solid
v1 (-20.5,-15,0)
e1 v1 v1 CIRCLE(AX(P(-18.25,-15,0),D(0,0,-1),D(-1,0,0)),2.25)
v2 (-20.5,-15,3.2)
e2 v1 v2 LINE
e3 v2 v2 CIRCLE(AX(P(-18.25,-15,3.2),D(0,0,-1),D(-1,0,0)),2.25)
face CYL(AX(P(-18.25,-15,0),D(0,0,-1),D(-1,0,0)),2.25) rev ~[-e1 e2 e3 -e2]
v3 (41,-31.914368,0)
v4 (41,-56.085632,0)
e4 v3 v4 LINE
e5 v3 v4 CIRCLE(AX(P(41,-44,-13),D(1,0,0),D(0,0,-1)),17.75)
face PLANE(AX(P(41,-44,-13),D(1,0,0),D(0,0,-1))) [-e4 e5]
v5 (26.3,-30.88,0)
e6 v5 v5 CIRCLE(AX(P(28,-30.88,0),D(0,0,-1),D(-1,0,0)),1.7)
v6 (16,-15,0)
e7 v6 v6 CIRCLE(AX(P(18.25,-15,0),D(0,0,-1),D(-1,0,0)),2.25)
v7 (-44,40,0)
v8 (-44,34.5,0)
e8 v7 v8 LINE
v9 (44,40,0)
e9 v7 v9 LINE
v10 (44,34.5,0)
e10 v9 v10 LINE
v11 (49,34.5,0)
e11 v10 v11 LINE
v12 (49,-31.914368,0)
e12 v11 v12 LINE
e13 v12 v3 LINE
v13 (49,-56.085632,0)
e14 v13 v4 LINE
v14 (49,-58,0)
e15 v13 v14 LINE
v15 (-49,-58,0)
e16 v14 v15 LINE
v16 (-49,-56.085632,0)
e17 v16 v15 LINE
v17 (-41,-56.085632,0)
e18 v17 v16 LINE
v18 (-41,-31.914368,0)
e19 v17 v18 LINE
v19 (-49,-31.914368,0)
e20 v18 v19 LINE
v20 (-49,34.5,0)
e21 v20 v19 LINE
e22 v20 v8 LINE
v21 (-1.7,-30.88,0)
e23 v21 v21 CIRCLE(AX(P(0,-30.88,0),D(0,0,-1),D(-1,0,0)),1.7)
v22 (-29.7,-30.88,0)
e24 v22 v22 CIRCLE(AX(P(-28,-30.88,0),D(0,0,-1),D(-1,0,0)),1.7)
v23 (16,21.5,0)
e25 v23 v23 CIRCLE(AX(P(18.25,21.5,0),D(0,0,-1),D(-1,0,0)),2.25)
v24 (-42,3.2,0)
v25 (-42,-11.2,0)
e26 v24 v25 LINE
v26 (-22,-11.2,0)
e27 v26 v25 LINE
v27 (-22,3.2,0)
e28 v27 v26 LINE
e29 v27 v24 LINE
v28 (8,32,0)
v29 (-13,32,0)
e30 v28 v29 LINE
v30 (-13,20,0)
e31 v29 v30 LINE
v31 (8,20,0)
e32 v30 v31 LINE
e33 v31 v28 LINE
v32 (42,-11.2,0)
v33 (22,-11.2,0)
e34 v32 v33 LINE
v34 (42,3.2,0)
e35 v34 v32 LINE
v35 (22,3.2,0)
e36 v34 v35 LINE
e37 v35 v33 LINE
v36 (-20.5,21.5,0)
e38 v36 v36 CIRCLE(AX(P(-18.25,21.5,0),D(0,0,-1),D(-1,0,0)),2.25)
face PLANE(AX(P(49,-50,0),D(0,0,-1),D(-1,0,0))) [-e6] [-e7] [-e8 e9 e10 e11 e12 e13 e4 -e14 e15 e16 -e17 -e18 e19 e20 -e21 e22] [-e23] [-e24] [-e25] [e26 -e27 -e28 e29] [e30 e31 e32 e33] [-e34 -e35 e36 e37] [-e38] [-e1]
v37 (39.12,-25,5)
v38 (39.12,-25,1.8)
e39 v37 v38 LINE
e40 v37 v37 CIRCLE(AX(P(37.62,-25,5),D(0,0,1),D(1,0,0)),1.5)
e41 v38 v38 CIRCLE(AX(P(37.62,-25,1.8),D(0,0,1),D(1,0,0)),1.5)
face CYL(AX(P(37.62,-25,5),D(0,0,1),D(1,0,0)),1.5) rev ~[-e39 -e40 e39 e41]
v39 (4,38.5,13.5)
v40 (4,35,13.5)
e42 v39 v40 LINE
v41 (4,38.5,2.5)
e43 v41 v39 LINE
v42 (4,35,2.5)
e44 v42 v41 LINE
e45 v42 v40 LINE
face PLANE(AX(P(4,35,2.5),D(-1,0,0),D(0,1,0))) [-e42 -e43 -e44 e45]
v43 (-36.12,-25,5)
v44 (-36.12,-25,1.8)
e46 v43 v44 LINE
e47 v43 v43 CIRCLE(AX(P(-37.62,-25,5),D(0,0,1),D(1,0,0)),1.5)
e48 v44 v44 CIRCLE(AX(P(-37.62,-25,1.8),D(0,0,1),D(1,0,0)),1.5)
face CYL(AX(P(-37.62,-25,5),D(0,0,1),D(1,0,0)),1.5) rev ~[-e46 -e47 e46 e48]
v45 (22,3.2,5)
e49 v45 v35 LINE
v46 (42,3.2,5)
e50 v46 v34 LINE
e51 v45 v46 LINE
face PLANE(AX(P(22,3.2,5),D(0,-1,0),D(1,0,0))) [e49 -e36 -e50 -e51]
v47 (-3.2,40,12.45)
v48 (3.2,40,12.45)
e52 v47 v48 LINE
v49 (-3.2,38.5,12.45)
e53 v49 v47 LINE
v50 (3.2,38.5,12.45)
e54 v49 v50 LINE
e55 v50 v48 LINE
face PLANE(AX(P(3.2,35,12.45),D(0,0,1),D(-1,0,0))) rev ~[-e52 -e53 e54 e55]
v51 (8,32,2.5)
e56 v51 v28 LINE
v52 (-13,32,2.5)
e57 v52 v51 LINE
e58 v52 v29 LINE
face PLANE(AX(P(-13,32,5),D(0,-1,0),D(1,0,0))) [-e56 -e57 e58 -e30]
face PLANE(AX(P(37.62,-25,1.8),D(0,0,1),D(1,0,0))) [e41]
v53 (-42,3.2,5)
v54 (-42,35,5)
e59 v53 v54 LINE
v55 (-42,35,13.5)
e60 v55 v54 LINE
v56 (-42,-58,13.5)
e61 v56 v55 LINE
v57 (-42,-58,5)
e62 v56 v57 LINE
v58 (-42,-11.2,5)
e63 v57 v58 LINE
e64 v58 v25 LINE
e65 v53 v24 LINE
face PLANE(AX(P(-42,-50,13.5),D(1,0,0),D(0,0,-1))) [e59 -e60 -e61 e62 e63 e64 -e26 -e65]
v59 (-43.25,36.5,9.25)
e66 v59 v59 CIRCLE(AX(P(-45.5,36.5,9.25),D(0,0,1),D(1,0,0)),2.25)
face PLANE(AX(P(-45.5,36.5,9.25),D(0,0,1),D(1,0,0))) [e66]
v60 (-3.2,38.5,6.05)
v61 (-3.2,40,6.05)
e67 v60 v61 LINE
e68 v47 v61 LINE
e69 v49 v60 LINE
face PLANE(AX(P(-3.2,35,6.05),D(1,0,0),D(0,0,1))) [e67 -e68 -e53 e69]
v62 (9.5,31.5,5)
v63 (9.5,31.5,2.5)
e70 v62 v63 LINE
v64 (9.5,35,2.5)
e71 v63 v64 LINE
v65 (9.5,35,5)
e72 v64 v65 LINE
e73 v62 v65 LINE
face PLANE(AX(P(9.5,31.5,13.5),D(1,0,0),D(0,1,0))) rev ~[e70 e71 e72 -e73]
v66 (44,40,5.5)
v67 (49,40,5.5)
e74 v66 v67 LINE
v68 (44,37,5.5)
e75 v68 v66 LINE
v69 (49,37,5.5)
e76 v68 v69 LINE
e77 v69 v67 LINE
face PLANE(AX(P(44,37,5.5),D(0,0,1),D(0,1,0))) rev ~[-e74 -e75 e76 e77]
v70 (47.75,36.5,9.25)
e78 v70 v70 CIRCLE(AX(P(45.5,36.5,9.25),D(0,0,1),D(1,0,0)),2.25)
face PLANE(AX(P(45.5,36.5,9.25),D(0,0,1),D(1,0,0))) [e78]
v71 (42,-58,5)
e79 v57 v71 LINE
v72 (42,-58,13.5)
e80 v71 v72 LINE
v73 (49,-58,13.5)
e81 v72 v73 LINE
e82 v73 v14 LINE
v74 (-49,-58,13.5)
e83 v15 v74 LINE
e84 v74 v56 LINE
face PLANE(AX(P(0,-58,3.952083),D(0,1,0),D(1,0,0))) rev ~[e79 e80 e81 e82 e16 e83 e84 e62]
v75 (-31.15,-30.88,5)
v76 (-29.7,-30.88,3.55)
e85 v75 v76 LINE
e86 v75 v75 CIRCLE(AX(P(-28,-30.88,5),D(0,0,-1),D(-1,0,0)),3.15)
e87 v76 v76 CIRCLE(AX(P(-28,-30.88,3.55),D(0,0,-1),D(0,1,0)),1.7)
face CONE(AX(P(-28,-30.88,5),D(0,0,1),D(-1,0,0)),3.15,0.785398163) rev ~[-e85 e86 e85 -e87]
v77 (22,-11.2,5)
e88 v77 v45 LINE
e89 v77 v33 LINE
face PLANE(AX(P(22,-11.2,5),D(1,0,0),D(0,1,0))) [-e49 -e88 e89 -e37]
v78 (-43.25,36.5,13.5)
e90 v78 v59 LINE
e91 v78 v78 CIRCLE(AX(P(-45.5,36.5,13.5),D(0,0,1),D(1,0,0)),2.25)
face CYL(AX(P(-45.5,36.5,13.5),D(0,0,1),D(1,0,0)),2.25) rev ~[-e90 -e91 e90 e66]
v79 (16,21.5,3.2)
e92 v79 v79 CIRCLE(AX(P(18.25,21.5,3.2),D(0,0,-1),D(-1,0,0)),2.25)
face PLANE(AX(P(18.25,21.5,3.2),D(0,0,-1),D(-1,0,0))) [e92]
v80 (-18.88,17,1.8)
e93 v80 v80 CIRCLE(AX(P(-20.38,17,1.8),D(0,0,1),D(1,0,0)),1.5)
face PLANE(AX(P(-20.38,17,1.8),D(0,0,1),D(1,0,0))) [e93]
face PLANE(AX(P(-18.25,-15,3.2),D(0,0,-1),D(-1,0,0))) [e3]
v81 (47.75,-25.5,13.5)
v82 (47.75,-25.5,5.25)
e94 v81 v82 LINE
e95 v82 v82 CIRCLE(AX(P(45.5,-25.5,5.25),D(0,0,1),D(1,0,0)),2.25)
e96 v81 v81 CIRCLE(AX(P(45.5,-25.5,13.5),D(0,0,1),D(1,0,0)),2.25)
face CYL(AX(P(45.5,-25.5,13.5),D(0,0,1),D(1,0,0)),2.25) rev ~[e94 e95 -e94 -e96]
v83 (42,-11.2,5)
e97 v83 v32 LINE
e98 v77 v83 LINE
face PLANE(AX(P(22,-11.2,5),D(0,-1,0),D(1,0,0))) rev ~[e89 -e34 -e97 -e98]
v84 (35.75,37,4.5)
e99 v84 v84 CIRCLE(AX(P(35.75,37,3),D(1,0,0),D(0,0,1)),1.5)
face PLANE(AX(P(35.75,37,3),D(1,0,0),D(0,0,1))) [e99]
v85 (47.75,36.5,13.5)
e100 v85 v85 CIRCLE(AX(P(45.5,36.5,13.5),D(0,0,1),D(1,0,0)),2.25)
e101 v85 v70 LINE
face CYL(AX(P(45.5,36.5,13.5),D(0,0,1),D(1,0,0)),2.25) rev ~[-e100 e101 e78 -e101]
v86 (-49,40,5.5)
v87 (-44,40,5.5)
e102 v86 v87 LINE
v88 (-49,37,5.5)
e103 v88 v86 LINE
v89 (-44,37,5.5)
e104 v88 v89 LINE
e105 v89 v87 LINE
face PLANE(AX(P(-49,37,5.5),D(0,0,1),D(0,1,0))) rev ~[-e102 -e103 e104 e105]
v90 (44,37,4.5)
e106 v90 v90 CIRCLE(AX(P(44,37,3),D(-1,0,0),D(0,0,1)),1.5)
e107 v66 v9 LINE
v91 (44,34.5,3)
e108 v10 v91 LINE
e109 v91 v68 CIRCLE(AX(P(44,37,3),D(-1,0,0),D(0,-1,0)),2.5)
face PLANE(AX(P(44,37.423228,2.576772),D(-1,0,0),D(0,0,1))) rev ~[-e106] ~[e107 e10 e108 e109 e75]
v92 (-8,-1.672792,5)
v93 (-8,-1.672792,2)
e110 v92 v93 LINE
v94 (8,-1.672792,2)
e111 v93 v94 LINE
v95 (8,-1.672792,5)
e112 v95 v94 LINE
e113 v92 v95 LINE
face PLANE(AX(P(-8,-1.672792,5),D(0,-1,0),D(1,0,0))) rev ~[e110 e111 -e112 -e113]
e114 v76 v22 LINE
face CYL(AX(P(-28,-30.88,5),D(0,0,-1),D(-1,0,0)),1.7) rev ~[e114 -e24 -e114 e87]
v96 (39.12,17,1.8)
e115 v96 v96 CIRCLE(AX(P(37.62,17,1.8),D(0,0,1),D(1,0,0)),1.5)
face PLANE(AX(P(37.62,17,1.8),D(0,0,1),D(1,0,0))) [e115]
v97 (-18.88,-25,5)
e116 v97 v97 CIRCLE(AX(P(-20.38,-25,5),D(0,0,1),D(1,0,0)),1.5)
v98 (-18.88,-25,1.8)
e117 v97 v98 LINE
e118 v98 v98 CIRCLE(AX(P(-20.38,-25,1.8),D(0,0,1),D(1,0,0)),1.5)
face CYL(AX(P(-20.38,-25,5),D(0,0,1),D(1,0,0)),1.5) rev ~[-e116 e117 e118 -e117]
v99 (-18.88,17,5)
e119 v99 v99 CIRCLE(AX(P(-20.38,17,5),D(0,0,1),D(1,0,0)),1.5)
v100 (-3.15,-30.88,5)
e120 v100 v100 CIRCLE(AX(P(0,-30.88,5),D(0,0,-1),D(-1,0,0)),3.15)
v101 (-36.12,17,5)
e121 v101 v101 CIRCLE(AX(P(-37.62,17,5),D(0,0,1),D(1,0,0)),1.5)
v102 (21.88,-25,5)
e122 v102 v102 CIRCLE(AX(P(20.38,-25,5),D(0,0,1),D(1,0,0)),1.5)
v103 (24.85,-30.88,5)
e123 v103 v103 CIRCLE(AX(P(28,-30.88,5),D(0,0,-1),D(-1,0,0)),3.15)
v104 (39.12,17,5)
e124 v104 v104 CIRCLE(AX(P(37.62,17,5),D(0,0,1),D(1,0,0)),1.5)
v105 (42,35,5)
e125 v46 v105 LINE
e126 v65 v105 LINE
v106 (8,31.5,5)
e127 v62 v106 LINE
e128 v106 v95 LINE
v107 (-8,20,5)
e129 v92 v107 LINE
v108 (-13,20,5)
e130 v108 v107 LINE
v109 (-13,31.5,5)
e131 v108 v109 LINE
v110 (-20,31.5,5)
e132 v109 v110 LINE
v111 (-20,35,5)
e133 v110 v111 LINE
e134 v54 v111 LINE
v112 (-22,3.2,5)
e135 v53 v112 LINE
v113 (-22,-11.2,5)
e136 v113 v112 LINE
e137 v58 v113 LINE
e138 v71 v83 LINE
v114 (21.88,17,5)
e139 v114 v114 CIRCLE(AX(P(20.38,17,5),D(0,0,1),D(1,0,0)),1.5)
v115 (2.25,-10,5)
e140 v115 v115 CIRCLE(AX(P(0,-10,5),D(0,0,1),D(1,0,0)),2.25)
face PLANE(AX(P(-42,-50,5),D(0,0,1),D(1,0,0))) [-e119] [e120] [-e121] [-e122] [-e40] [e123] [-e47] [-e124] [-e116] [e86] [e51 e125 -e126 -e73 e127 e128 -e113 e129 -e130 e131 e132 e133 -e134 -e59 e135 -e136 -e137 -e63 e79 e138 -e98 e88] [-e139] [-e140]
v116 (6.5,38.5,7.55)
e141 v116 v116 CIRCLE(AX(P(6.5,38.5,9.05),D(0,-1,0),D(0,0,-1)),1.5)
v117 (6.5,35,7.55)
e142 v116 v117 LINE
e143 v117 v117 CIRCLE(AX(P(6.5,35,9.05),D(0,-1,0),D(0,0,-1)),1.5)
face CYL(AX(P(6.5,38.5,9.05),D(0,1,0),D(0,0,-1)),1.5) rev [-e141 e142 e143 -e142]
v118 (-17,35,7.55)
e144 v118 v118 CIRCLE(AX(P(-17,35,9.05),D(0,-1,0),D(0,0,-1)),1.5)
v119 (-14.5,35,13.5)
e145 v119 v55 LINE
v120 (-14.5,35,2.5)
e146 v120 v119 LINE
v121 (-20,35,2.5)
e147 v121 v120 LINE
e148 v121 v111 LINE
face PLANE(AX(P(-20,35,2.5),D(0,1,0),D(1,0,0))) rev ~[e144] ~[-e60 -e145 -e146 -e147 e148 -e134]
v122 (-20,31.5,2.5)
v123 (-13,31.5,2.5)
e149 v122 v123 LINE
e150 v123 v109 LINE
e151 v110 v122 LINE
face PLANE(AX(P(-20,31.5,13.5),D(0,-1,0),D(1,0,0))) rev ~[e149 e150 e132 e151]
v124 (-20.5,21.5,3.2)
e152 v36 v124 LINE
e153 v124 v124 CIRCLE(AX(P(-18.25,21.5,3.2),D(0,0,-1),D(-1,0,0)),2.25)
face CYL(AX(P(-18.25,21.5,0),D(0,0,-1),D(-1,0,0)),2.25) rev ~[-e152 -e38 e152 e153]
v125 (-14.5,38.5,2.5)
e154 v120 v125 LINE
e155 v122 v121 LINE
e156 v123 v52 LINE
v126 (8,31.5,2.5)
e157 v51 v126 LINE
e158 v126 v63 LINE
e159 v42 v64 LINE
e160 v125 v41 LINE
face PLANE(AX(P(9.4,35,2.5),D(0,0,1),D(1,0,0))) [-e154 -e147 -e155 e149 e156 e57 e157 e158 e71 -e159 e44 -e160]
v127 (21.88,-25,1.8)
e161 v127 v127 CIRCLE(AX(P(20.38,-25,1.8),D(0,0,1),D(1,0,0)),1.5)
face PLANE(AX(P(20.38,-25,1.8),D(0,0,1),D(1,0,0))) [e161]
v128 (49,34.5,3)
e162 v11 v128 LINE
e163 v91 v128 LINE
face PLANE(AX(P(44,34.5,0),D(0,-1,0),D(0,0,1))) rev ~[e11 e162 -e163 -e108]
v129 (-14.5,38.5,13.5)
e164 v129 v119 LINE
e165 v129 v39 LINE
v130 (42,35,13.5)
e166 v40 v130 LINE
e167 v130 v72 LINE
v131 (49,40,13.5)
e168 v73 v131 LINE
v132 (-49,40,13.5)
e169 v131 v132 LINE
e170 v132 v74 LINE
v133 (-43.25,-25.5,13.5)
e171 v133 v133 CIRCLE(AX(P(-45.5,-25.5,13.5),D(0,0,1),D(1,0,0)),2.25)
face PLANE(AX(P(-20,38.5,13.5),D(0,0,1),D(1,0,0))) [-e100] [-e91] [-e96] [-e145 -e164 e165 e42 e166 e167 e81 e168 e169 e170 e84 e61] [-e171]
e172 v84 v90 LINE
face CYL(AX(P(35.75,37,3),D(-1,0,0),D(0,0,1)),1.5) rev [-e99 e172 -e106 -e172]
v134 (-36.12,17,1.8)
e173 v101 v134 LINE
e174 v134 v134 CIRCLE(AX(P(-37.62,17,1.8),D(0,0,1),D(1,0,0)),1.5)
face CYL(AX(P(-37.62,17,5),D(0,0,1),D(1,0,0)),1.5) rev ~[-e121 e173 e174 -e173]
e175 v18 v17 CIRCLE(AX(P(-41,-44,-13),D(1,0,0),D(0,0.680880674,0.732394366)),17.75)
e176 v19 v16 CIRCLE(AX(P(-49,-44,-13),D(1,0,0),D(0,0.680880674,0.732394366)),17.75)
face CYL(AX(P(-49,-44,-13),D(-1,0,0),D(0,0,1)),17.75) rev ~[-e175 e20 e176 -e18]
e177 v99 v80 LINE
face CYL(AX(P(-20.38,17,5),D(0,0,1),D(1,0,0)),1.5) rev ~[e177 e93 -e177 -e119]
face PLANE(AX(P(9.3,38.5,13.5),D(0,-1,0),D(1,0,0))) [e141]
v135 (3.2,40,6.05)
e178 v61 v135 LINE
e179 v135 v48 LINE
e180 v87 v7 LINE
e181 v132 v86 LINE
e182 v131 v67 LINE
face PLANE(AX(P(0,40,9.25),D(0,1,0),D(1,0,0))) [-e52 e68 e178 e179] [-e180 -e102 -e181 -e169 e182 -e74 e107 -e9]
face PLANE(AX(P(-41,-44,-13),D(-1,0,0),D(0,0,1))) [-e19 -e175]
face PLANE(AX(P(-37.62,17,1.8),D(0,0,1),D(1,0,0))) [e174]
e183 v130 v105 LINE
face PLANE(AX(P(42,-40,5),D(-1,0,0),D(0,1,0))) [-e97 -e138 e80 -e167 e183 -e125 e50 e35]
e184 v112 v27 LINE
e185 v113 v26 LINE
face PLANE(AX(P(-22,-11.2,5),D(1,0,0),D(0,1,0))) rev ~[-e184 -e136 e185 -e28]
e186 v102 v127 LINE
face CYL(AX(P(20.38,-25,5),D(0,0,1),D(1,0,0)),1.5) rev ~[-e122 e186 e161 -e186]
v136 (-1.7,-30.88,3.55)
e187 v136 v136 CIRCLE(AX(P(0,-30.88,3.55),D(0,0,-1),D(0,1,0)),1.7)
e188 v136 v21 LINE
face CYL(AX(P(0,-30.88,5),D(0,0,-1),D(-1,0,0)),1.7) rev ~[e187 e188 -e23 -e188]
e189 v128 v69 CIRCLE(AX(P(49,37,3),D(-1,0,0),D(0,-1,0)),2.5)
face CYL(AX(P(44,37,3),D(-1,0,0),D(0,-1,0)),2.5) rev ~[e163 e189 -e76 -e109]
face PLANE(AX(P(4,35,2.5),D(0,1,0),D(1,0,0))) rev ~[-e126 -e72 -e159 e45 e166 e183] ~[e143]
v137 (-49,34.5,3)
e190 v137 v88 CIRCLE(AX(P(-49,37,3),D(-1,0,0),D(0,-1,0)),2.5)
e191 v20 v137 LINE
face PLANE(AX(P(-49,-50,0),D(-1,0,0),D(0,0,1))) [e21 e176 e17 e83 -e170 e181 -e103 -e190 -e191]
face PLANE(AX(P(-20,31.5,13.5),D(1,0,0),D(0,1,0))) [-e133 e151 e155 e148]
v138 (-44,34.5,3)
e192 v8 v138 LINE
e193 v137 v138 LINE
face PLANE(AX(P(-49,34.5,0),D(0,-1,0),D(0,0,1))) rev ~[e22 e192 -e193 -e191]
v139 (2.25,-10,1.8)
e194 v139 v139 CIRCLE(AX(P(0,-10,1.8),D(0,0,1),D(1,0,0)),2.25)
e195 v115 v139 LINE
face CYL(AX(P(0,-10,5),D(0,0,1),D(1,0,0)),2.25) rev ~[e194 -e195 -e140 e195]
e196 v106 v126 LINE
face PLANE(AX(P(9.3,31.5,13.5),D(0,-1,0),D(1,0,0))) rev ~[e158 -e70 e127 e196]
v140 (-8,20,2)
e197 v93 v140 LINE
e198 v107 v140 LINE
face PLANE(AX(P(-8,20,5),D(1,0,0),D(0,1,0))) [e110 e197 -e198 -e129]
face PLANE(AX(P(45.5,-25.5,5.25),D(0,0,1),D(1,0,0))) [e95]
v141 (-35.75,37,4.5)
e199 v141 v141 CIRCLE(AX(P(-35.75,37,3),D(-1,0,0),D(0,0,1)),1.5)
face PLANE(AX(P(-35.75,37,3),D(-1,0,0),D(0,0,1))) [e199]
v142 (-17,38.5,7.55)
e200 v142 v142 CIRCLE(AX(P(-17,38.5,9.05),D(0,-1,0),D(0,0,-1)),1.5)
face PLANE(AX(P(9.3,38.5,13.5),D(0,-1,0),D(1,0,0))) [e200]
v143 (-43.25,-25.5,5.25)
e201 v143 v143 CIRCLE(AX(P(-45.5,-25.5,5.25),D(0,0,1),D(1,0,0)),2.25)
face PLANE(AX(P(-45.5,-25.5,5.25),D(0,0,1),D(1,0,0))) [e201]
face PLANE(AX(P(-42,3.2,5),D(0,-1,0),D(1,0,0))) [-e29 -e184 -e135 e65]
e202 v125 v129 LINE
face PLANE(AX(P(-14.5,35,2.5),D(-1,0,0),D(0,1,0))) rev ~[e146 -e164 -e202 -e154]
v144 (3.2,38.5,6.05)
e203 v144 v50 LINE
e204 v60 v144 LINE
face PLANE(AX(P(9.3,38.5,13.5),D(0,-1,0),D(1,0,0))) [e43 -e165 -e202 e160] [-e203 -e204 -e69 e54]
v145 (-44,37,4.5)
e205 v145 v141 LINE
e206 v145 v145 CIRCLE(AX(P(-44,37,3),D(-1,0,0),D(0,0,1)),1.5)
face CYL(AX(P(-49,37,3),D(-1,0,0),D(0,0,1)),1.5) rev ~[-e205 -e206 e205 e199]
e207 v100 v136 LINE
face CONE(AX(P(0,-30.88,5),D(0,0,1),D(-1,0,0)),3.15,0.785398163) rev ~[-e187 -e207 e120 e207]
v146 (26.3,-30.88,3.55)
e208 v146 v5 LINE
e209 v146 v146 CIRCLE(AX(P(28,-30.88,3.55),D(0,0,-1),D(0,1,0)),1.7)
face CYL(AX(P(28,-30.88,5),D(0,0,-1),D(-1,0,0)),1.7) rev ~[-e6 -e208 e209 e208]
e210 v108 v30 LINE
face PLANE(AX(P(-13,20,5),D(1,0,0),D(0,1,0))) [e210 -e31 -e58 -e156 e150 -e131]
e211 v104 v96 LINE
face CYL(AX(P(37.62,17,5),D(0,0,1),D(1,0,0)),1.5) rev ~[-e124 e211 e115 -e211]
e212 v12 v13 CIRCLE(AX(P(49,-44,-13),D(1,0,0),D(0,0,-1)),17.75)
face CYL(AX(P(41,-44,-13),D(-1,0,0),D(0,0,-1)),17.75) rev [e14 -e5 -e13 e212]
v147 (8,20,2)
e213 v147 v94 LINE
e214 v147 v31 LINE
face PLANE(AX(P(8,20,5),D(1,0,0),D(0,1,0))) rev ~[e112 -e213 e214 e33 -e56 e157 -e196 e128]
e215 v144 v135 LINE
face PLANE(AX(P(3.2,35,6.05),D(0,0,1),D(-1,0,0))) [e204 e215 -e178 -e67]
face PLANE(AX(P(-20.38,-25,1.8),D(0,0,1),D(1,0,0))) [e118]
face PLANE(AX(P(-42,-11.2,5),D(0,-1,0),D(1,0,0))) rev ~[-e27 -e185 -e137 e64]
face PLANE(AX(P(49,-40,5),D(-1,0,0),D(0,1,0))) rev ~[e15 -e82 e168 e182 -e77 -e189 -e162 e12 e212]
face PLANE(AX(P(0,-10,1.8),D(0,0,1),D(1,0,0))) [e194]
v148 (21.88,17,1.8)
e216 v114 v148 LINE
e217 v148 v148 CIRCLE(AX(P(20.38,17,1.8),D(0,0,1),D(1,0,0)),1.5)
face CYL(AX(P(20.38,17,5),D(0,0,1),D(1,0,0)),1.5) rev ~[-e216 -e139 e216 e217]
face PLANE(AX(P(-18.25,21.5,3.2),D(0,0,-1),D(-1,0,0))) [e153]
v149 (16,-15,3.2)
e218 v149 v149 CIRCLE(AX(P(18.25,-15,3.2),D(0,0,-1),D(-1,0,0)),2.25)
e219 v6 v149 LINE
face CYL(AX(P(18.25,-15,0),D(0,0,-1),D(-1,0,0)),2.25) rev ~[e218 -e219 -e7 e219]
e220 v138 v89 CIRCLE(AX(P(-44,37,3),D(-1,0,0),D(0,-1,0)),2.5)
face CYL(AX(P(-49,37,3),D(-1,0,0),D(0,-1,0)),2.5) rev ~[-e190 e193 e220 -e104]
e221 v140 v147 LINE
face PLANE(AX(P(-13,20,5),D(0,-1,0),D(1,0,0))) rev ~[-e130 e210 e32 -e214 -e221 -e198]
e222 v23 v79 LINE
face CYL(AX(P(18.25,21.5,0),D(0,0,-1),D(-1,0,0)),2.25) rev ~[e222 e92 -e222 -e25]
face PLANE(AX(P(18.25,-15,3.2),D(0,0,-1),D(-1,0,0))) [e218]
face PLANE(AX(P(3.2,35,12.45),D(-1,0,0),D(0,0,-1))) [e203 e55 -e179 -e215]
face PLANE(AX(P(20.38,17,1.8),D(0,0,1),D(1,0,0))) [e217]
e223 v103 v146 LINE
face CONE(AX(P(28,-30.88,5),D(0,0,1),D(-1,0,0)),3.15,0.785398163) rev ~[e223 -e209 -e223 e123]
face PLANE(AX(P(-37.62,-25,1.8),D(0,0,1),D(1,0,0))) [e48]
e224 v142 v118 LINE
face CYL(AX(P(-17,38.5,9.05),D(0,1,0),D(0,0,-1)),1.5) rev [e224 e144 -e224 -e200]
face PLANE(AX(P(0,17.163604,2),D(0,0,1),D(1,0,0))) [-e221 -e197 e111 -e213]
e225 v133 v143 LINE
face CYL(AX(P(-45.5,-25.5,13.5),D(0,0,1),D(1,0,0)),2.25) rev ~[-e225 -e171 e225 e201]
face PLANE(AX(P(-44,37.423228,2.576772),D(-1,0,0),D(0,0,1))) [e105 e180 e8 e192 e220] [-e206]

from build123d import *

# Parameters (mm, degrees)
SKETCH1_W                                       = 98
SKETCH1_H                                       = 80
BOSS_EXTRUDE1_DEPTH                             = 5
SKETCH2_W                                       = 7
SKETCH2_H                                       = 80
BOSS_EXTRUDE2_DEPTH                             = 8.5
SKETCH3_W                                       = 7
SKETCH3_H                                       = 80
BOSS_EXTRUDE3_DEPTH                             = 8.5
SKETCH8_W                                       = 84
SKETCH8_H                                       = 8.5
BOSS_EXTRUDE5_DEPTH                             = 5
SKETCH13_R                                      = 2.25
CUT_EXTRUDE7_DEPTH                              = 3.2
SKETCH15_R                                      = 1.5
CUT_EXTRUDE9_DEPTH                              = 3.2
SKETCH14_W                                      = 16
SKETCH14_H                                      = 16
CUT_EXTRUDE13_DEPTH                             = 3
SKETCH18_W                                      = 16
SKETCH18_H                                      = 12
CUT_EXTRUDE14_DEPTH                             = 64.822018144
SKETCH19_W                                      = 16
SKETCH19_H                                      = 5.672791846
CUT_EXTRUDE15_DEPTH                             = 3
SKETCH20_R                                      = 2.25
CUT_EXTRUDE20_DEPTH                             = 3.2
BOSS_EXTRUDE7_DEPTH                             = 10
BOSS_EXTRUDE9_DEPTH                             = 8
CSK_FOR_M3_FLAT_HEAD_MACHINE_SCREW1_D           = 3.4
CSK_FOR_M3_FLAT_HEAD_MACHINE_SCREW1_CSINK_D     = 6.3
CSK_FOR_M3_FLAT_HEAD_MACHINE_SCREW1_CSINK_ANGLE = 90
SKETCH51_R                                      = 17.75
CUT_EXTRUDE23_DEPTH                             = 8
CUT_EXTRUDE24_START                             = -8
SKETCH52_R                                      = 17.75
CUT_EXTRUDE24_DEPTH                             = 8
SKETCH42_R                                      = 2.25
CUT_EXTRUDE25_DEPTH                             = 4.25
SKETCH53_R                                      = 2.25
CUT_EXTRUDE26_DEPTH                             = 8.25
SKETCH54_R                                      = 1.5
CUT_EXTRUDE27_DEPTH                             = 13.25
CUT_EXTRUDE28_DEPTH                             = 5
CUT_EXTRUDE29_START                             = -13.25
SKETCH56_R                                      = 1.5
CUT_EXTRUDE29_DEPTH                             = 13.25
CUT_EXTRUDE30_START                             = -5
CUT_EXTRUDE30_DEPTH                             = 5
SKETCH65_W                                      = 20
SKETCH65_H                                      = 14.4
CUT_EXTRUDE31_DEPTH                             = 77.401897882
CUT_EXTRUDE33_DEPTH                             = 13.5
SKETCH75_W                                      = 28.5
SKETCH75_H                                      = 7
CUT_EXTRUDE39_DEPTH                             = 11
SKETCH80_W                                      = 5
SKETCH80_H                                      = 12
CUT_EXTRUDE42_DEPTH                             = 77.401897882
SKETCH82_W                                      = 0.8
SKETCH82_H                                      = 7
SKETCH82_W_2                                    = 0.2
CUT_EXTRUDE43_DEPTH                             = 11
SKETCH84_W                                      = 5.5
SKETCH84_H                                      = 8.5
SKETCH84_R                                      = 1.5
BOSS_EXTRUDE10_DEPTH                            = 3.5
SKETCH86_W                                      = 5.5
SKETCH86_H                                      = 3.5
BOSS_EXTRUDE11_DEPTH                            = 3.5


with BuildPart() as part:
    # Sketch1 → Boss-Extrude1 (new body)
    with BuildSketch(Plane.XY):
        Rectangle(SKETCH1_W, SKETCH1_H)
    extrude(amount=BOSS_EXTRUDE1_DEPTH)

    # Sketch2 → Boss-Extrude2 (add)
    with BuildSketch(Plane.XY.offset(5)):
        with Locations((-45.5, 0)):
            Rectangle(SKETCH2_W, SKETCH2_H)
    extrude(amount=BOSS_EXTRUDE2_DEPTH)

    # Sketch3 → Boss-Extrude3 (add)
    with BuildSketch(Plane.XY.offset(5)):
        with Locations((45.5, 0)):
            Rectangle(SKETCH3_W, SKETCH3_H)
    extrude(amount=BOSS_EXTRUDE3_DEPTH)

    # Sketch8 → Boss-Extrude5 (add)
    with BuildSketch(Plane(origin=(0, 40, 0), x_dir=(1, 0, 0), z_dir=(0, 1, 0))):
        with Locations((0, -9.25)):
            Rectangle(SKETCH8_W, SKETCH8_H)
    extrude(amount=-BOSS_EXTRUDE5_DEPTH)

    # Sketch13 → Cut-Extrude7 (cut)
    with BuildSketch(Plane.XY.offset(5)):
        with Locations((0, -10)):
            Circle(SKETCH13_R)
    extrude(amount=-CUT_EXTRUDE7_DEPTH, mode=Mode.SUBTRACT)

    # Sketch15 → Cut-Extrude9 (cut)
    with BuildSketch(Plane.XY.offset(5)):
        with Locations((-37.62, 17)):
            Circle(SKETCH15_R)
        with Locations((-20.38, 17)):
            Circle(SKETCH15_R)
        with Locations((-37.62, -25)):
            Circle(SKETCH15_R)
        with Locations((-20.38, -25)):
            Circle(SKETCH15_R)
        with Locations((20.38, -25)):
            Circle(SKETCH15_R)
        with Locations((37.62, -25)):
            Circle(SKETCH15_R)
        with Locations((37.62, 17)):
            Circle(SKETCH15_R)
        with Locations((20.38, 17)):
            Circle(SKETCH15_R)
    extrude(amount=-CUT_EXTRUDE9_DEPTH, mode=Mode.SUBTRACT)

    # Sketch14 → Cut-Extrude13 (cut)
    with BuildSketch(Plane.XY.offset(5)):
        with Locations((0, 6.327208154)):
            Rectangle(SKETCH14_W, SKETCH14_H)
    extrude(amount=-CUT_EXTRUDE13_DEPTH, mode=Mode.SUBTRACT)

    # Sketch18 → Cut-Extrude14 (cut, through all)
    with BuildSketch(Plane.XY.offset(5)):
        with Locations((0, 26)):
            Rectangle(SKETCH18_W, SKETCH18_H)
    extrude(amount=-CUT_EXTRUDE14_DEPTH, mode=Mode.SUBTRACT)

    # Sketch19 → Cut-Extrude15 (cut)
    with BuildSketch(Plane.XY.offset(5)):
        with Locations((0, 17.163604077)):
            Rectangle(SKETCH19_W, SKETCH19_H)
    extrude(amount=-CUT_EXTRUDE15_DEPTH, mode=Mode.SUBTRACT)

    # Sketch20 → Cut-Extrude20 (cut)
    with BuildSketch(Plane(origin=(0, 0, 0), x_dir=(-1, 0, 0), z_dir=(0, 0, -1))):
        with Locations((18.25, 21.5)):
            Circle(SKETCH20_R)
        with Locations((-18.25, 21.5)):
            Circle(SKETCH20_R)
        with Locations((18.25, -15)):
            Circle(SKETCH20_R)
        with Locations((-18.25, -15)):
            Circle(SKETCH20_R)
    extrude(amount=-CUT_EXTRUDE20_DEPTH, mode=Mode.SUBTRACT)

    # Sketch26 → Boss-Extrude7 (add)
    with BuildSketch(Plane(origin=(0, -40, 0), x_dir=(-1, 0, 0), z_dir=(0, -1, 0))):
        Polygon((49, -13.5), (42, -13.5), (42, -5), (-42, -5), (-42, -13.5), (-49, -13.5), (-49, 0), (49, 0), align=None)
    extrude(amount=BOSS_EXTRUDE7_DEPTH)

    # Sketch47 → Boss-Extrude9 (add)
    with BuildSketch(Plane(origin=(0, -50, 0), x_dir=(-1, 0, 0), z_dir=(0, -1, 0))):
        Polygon((49, -13.5), (42, -13.5), (42, -5), (-42, -5), (-42, -13.5), (-49, -13.5), (-49, 0), (49, 0), align=None)
    extrude(amount=BOSS_EXTRUDE9_DEPTH)

    # CSK for M3 Flat Head Machine Screw1 (through all)
    with Locations(Plane.XY.offset(5)):
        with Locations((28, -30.88), (0, -30.88), (-28, -30.88)):
            CounterSinkHole(CSK_FOR_M3_FLAT_HEAD_MACHINE_SCREW1_D / 2, CSK_FOR_M3_FLAT_HEAD_MACHINE_SCREW1_CSINK_D / 2, counter_sink_angle=CSK_FOR_M3_FLAT_HEAD_MACHINE_SCREW1_CSINK_ANGLE)

    # Sketch51 → Cut-Extrude23 (cut)
    with BuildSketch(Plane.ZY.offset(49)):
        with Locations((-13, -44)):
            Circle(SKETCH51_R)
    extrude(amount=-CUT_EXTRUDE23_DEPTH, mode=Mode.SUBTRACT)

    # Sketch52 → Cut-Extrude24 (cut)
    with BuildSketch(Plane(origin=(49, 0, 0), x_dir=(0, 0, -1), z_dir=(1, 0, 0)).offset(CUT_EXTRUDE24_START)):
        with Locations((13, -44)):
            Circle(SKETCH52_R)
    extrude(amount=CUT_EXTRUDE24_DEPTH, mode=Mode.SUBTRACT)

    # Sketch42 → Cut-Extrude25 (cut)
    with BuildSketch(Plane.XY.offset(13.5)):
        with Locations((-45.5, 36.5)):
            Circle(SKETCH42_R)
        with Locations((45.5, 36.5)):
            Circle(SKETCH42_R)
    extrude(amount=-CUT_EXTRUDE25_DEPTH, mode=Mode.SUBTRACT)

    # Sketch53 → Cut-Extrude26 (cut)
    with BuildSketch(Plane.XY.offset(13.5)):
        with Locations((-45.5, -25.5)):
            Circle(SKETCH53_R)
        with Locations((45.5, -25.5)):
            Circle(SKETCH53_R)
    extrude(amount=-CUT_EXTRUDE26_DEPTH, mode=Mode.SUBTRACT)

    # Sketch54 → Cut-Extrude27 (cut)
    with BuildSketch(Plane.ZY.offset(49)):
        with Locations((3, 37)):
            Circle(SKETCH54_R)
    extrude(amount=-CUT_EXTRUDE27_DEPTH, mode=Mode.SUBTRACT)

    # Sketch55 → Cut-Extrude28 (cut)
    with BuildSketch(Plane.ZY.offset(49)):
        with BuildLine():
            Line((5.5, 37), (5.5, 40))
            Line((5.5, 40), (0, 40))
            Line((0, 40), (0, 34.5))
            Line((0, 34.5), (3, 34.5))
            ThreePointArc((3, 34.5), (4.767766953, 35.232233047), (5.5, 37))
        make_face()
    extrude(amount=-CUT_EXTRUDE28_DEPTH, mode=Mode.SUBTRACT)

    # Sketch56 → Cut-Extrude29 (cut)
    with BuildSketch(Plane(origin=(49, 0, 0), x_dir=(0, 0, -1), z_dir=(1, 0, 0)).offset(CUT_EXTRUDE29_START)):
        with Locations(Location((-3, 37, 0), (0, 0, 180))):
            Circle(SKETCH56_R)
    extrude(amount=CUT_EXTRUDE29_DEPTH, mode=Mode.SUBTRACT)

    # Sketch57 → Cut-Extrude30 (cut)
    with BuildSketch(Plane(origin=(49, 0, 0), x_dir=(0, 0, -1), z_dir=(1, 0, 0)).offset(CUT_EXTRUDE30_START)):
        with BuildLine():
            Line((-5.5, 37), (-5.5, 40))
            Line((-5.5, 40), (0, 40))
            Line((0, 40), (0, 34.5))
            Line((0, 34.5), (-3, 34.5))
            ThreePointArc((-3, 34.5), (-4.767766953, 35.232233047), (-5.5, 37))
        make_face()
    extrude(amount=CUT_EXTRUDE30_DEPTH, mode=Mode.SUBTRACT)

    # Sketch65 → Cut-Extrude31 (cut, through all)
    with BuildSketch(Plane.XY.offset(5)):
        with Locations((32, -4)):
            Rectangle(SKETCH65_W, SKETCH65_H)
        with Locations((-32, -4)):
            Rectangle(SKETCH65_W, SKETCH65_H)
    extrude(amount=-CUT_EXTRUDE31_DEPTH, mode=Mode.SUBTRACT)

    # Sketch69 → Cut-Extrude33 (cut)
    with BuildSketch(Plane.XZ.offset(-35)):
        Polygon((0, 12.45), (3.2, 12.45), (3.2, 6.05), (-3.2, 6.05), (-3.2, 12.45), align=None)
    extrude(amount=-CUT_EXTRUDE33_DEPTH, mode=Mode.SUBTRACT)

    # Sketch75 → Cut-Extrude39 (cut)
    with BuildSketch(Plane.XY.offset(13.5)):
        with Locations((-4.95, 35)):
            Rectangle(SKETCH75_W, SKETCH75_H)
    extrude(amount=-CUT_EXTRUDE39_DEPTH, mode=Mode.SUBTRACT)

    # Sketch80 → Cut-Extrude42 (cut, through all)
    with BuildSketch(Plane.XY.offset(5)):
        with Locations((-10.5, 26)):
            Rectangle(SKETCH80_W, SKETCH80_H)
    extrude(amount=-CUT_EXTRUDE42_DEPTH, mode=Mode.SUBTRACT)

    # Sketch82 → Cut-Extrude43 (cut)
    with BuildSketch(Plane.XY.offset(13.5)):
        with Locations((-19.6, 35)):
            Rectangle(SKETCH82_W, SKETCH82_H)
        with Locations((9.4, 35)):
            Rectangle(SKETCH82_W_2, SKETCH82_H)
    extrude(amount=-CUT_EXTRUDE43_DEPTH, mode=Mode.SUBTRACT)

    # Sketch84 → Boss-Extrude10 (add)
    # profile 1 of 2: a face of its own
    with BuildSketch(Plane.XZ.offset(-38.5)):
        with Locations((-17.25, 9.25)):
            Rectangle(SKETCH84_W, SKETCH84_H)
        with Locations(Location((-17, 9.05, 0), (0, 0, 270))):
            Circle(SKETCH84_R, mode=Mode.SUBTRACT)
    # profile 2 of 2: a face of its own
    with BuildSketch(Plane.XZ.offset(-38.5)):
        with Locations((6.75, 9.25)):
            Rectangle(SKETCH84_W, SKETCH84_H)
        with Locations(Location((6.5, 9.05, 0), (0, 0, 270))):
            Circle(SKETCH84_R, mode=Mode.SUBTRACT)
    extrude(amount=BOSS_EXTRUDE10_DEPTH)

    # Sketch86 → Boss-Extrude11 (add)
    with BuildSketch(Plane.XY.offset(2.5)):
        with Locations((-17.25, 36.75)):
            Rectangle(SKETCH86_W, SKETCH86_H)
        with Locations((6.75, 36.75)):
            Rectangle(SKETCH86_W, SKETCH86_H)
    extrude(amount=BOSS_EXTRUDE11_DEPTH)


solid = part.part
